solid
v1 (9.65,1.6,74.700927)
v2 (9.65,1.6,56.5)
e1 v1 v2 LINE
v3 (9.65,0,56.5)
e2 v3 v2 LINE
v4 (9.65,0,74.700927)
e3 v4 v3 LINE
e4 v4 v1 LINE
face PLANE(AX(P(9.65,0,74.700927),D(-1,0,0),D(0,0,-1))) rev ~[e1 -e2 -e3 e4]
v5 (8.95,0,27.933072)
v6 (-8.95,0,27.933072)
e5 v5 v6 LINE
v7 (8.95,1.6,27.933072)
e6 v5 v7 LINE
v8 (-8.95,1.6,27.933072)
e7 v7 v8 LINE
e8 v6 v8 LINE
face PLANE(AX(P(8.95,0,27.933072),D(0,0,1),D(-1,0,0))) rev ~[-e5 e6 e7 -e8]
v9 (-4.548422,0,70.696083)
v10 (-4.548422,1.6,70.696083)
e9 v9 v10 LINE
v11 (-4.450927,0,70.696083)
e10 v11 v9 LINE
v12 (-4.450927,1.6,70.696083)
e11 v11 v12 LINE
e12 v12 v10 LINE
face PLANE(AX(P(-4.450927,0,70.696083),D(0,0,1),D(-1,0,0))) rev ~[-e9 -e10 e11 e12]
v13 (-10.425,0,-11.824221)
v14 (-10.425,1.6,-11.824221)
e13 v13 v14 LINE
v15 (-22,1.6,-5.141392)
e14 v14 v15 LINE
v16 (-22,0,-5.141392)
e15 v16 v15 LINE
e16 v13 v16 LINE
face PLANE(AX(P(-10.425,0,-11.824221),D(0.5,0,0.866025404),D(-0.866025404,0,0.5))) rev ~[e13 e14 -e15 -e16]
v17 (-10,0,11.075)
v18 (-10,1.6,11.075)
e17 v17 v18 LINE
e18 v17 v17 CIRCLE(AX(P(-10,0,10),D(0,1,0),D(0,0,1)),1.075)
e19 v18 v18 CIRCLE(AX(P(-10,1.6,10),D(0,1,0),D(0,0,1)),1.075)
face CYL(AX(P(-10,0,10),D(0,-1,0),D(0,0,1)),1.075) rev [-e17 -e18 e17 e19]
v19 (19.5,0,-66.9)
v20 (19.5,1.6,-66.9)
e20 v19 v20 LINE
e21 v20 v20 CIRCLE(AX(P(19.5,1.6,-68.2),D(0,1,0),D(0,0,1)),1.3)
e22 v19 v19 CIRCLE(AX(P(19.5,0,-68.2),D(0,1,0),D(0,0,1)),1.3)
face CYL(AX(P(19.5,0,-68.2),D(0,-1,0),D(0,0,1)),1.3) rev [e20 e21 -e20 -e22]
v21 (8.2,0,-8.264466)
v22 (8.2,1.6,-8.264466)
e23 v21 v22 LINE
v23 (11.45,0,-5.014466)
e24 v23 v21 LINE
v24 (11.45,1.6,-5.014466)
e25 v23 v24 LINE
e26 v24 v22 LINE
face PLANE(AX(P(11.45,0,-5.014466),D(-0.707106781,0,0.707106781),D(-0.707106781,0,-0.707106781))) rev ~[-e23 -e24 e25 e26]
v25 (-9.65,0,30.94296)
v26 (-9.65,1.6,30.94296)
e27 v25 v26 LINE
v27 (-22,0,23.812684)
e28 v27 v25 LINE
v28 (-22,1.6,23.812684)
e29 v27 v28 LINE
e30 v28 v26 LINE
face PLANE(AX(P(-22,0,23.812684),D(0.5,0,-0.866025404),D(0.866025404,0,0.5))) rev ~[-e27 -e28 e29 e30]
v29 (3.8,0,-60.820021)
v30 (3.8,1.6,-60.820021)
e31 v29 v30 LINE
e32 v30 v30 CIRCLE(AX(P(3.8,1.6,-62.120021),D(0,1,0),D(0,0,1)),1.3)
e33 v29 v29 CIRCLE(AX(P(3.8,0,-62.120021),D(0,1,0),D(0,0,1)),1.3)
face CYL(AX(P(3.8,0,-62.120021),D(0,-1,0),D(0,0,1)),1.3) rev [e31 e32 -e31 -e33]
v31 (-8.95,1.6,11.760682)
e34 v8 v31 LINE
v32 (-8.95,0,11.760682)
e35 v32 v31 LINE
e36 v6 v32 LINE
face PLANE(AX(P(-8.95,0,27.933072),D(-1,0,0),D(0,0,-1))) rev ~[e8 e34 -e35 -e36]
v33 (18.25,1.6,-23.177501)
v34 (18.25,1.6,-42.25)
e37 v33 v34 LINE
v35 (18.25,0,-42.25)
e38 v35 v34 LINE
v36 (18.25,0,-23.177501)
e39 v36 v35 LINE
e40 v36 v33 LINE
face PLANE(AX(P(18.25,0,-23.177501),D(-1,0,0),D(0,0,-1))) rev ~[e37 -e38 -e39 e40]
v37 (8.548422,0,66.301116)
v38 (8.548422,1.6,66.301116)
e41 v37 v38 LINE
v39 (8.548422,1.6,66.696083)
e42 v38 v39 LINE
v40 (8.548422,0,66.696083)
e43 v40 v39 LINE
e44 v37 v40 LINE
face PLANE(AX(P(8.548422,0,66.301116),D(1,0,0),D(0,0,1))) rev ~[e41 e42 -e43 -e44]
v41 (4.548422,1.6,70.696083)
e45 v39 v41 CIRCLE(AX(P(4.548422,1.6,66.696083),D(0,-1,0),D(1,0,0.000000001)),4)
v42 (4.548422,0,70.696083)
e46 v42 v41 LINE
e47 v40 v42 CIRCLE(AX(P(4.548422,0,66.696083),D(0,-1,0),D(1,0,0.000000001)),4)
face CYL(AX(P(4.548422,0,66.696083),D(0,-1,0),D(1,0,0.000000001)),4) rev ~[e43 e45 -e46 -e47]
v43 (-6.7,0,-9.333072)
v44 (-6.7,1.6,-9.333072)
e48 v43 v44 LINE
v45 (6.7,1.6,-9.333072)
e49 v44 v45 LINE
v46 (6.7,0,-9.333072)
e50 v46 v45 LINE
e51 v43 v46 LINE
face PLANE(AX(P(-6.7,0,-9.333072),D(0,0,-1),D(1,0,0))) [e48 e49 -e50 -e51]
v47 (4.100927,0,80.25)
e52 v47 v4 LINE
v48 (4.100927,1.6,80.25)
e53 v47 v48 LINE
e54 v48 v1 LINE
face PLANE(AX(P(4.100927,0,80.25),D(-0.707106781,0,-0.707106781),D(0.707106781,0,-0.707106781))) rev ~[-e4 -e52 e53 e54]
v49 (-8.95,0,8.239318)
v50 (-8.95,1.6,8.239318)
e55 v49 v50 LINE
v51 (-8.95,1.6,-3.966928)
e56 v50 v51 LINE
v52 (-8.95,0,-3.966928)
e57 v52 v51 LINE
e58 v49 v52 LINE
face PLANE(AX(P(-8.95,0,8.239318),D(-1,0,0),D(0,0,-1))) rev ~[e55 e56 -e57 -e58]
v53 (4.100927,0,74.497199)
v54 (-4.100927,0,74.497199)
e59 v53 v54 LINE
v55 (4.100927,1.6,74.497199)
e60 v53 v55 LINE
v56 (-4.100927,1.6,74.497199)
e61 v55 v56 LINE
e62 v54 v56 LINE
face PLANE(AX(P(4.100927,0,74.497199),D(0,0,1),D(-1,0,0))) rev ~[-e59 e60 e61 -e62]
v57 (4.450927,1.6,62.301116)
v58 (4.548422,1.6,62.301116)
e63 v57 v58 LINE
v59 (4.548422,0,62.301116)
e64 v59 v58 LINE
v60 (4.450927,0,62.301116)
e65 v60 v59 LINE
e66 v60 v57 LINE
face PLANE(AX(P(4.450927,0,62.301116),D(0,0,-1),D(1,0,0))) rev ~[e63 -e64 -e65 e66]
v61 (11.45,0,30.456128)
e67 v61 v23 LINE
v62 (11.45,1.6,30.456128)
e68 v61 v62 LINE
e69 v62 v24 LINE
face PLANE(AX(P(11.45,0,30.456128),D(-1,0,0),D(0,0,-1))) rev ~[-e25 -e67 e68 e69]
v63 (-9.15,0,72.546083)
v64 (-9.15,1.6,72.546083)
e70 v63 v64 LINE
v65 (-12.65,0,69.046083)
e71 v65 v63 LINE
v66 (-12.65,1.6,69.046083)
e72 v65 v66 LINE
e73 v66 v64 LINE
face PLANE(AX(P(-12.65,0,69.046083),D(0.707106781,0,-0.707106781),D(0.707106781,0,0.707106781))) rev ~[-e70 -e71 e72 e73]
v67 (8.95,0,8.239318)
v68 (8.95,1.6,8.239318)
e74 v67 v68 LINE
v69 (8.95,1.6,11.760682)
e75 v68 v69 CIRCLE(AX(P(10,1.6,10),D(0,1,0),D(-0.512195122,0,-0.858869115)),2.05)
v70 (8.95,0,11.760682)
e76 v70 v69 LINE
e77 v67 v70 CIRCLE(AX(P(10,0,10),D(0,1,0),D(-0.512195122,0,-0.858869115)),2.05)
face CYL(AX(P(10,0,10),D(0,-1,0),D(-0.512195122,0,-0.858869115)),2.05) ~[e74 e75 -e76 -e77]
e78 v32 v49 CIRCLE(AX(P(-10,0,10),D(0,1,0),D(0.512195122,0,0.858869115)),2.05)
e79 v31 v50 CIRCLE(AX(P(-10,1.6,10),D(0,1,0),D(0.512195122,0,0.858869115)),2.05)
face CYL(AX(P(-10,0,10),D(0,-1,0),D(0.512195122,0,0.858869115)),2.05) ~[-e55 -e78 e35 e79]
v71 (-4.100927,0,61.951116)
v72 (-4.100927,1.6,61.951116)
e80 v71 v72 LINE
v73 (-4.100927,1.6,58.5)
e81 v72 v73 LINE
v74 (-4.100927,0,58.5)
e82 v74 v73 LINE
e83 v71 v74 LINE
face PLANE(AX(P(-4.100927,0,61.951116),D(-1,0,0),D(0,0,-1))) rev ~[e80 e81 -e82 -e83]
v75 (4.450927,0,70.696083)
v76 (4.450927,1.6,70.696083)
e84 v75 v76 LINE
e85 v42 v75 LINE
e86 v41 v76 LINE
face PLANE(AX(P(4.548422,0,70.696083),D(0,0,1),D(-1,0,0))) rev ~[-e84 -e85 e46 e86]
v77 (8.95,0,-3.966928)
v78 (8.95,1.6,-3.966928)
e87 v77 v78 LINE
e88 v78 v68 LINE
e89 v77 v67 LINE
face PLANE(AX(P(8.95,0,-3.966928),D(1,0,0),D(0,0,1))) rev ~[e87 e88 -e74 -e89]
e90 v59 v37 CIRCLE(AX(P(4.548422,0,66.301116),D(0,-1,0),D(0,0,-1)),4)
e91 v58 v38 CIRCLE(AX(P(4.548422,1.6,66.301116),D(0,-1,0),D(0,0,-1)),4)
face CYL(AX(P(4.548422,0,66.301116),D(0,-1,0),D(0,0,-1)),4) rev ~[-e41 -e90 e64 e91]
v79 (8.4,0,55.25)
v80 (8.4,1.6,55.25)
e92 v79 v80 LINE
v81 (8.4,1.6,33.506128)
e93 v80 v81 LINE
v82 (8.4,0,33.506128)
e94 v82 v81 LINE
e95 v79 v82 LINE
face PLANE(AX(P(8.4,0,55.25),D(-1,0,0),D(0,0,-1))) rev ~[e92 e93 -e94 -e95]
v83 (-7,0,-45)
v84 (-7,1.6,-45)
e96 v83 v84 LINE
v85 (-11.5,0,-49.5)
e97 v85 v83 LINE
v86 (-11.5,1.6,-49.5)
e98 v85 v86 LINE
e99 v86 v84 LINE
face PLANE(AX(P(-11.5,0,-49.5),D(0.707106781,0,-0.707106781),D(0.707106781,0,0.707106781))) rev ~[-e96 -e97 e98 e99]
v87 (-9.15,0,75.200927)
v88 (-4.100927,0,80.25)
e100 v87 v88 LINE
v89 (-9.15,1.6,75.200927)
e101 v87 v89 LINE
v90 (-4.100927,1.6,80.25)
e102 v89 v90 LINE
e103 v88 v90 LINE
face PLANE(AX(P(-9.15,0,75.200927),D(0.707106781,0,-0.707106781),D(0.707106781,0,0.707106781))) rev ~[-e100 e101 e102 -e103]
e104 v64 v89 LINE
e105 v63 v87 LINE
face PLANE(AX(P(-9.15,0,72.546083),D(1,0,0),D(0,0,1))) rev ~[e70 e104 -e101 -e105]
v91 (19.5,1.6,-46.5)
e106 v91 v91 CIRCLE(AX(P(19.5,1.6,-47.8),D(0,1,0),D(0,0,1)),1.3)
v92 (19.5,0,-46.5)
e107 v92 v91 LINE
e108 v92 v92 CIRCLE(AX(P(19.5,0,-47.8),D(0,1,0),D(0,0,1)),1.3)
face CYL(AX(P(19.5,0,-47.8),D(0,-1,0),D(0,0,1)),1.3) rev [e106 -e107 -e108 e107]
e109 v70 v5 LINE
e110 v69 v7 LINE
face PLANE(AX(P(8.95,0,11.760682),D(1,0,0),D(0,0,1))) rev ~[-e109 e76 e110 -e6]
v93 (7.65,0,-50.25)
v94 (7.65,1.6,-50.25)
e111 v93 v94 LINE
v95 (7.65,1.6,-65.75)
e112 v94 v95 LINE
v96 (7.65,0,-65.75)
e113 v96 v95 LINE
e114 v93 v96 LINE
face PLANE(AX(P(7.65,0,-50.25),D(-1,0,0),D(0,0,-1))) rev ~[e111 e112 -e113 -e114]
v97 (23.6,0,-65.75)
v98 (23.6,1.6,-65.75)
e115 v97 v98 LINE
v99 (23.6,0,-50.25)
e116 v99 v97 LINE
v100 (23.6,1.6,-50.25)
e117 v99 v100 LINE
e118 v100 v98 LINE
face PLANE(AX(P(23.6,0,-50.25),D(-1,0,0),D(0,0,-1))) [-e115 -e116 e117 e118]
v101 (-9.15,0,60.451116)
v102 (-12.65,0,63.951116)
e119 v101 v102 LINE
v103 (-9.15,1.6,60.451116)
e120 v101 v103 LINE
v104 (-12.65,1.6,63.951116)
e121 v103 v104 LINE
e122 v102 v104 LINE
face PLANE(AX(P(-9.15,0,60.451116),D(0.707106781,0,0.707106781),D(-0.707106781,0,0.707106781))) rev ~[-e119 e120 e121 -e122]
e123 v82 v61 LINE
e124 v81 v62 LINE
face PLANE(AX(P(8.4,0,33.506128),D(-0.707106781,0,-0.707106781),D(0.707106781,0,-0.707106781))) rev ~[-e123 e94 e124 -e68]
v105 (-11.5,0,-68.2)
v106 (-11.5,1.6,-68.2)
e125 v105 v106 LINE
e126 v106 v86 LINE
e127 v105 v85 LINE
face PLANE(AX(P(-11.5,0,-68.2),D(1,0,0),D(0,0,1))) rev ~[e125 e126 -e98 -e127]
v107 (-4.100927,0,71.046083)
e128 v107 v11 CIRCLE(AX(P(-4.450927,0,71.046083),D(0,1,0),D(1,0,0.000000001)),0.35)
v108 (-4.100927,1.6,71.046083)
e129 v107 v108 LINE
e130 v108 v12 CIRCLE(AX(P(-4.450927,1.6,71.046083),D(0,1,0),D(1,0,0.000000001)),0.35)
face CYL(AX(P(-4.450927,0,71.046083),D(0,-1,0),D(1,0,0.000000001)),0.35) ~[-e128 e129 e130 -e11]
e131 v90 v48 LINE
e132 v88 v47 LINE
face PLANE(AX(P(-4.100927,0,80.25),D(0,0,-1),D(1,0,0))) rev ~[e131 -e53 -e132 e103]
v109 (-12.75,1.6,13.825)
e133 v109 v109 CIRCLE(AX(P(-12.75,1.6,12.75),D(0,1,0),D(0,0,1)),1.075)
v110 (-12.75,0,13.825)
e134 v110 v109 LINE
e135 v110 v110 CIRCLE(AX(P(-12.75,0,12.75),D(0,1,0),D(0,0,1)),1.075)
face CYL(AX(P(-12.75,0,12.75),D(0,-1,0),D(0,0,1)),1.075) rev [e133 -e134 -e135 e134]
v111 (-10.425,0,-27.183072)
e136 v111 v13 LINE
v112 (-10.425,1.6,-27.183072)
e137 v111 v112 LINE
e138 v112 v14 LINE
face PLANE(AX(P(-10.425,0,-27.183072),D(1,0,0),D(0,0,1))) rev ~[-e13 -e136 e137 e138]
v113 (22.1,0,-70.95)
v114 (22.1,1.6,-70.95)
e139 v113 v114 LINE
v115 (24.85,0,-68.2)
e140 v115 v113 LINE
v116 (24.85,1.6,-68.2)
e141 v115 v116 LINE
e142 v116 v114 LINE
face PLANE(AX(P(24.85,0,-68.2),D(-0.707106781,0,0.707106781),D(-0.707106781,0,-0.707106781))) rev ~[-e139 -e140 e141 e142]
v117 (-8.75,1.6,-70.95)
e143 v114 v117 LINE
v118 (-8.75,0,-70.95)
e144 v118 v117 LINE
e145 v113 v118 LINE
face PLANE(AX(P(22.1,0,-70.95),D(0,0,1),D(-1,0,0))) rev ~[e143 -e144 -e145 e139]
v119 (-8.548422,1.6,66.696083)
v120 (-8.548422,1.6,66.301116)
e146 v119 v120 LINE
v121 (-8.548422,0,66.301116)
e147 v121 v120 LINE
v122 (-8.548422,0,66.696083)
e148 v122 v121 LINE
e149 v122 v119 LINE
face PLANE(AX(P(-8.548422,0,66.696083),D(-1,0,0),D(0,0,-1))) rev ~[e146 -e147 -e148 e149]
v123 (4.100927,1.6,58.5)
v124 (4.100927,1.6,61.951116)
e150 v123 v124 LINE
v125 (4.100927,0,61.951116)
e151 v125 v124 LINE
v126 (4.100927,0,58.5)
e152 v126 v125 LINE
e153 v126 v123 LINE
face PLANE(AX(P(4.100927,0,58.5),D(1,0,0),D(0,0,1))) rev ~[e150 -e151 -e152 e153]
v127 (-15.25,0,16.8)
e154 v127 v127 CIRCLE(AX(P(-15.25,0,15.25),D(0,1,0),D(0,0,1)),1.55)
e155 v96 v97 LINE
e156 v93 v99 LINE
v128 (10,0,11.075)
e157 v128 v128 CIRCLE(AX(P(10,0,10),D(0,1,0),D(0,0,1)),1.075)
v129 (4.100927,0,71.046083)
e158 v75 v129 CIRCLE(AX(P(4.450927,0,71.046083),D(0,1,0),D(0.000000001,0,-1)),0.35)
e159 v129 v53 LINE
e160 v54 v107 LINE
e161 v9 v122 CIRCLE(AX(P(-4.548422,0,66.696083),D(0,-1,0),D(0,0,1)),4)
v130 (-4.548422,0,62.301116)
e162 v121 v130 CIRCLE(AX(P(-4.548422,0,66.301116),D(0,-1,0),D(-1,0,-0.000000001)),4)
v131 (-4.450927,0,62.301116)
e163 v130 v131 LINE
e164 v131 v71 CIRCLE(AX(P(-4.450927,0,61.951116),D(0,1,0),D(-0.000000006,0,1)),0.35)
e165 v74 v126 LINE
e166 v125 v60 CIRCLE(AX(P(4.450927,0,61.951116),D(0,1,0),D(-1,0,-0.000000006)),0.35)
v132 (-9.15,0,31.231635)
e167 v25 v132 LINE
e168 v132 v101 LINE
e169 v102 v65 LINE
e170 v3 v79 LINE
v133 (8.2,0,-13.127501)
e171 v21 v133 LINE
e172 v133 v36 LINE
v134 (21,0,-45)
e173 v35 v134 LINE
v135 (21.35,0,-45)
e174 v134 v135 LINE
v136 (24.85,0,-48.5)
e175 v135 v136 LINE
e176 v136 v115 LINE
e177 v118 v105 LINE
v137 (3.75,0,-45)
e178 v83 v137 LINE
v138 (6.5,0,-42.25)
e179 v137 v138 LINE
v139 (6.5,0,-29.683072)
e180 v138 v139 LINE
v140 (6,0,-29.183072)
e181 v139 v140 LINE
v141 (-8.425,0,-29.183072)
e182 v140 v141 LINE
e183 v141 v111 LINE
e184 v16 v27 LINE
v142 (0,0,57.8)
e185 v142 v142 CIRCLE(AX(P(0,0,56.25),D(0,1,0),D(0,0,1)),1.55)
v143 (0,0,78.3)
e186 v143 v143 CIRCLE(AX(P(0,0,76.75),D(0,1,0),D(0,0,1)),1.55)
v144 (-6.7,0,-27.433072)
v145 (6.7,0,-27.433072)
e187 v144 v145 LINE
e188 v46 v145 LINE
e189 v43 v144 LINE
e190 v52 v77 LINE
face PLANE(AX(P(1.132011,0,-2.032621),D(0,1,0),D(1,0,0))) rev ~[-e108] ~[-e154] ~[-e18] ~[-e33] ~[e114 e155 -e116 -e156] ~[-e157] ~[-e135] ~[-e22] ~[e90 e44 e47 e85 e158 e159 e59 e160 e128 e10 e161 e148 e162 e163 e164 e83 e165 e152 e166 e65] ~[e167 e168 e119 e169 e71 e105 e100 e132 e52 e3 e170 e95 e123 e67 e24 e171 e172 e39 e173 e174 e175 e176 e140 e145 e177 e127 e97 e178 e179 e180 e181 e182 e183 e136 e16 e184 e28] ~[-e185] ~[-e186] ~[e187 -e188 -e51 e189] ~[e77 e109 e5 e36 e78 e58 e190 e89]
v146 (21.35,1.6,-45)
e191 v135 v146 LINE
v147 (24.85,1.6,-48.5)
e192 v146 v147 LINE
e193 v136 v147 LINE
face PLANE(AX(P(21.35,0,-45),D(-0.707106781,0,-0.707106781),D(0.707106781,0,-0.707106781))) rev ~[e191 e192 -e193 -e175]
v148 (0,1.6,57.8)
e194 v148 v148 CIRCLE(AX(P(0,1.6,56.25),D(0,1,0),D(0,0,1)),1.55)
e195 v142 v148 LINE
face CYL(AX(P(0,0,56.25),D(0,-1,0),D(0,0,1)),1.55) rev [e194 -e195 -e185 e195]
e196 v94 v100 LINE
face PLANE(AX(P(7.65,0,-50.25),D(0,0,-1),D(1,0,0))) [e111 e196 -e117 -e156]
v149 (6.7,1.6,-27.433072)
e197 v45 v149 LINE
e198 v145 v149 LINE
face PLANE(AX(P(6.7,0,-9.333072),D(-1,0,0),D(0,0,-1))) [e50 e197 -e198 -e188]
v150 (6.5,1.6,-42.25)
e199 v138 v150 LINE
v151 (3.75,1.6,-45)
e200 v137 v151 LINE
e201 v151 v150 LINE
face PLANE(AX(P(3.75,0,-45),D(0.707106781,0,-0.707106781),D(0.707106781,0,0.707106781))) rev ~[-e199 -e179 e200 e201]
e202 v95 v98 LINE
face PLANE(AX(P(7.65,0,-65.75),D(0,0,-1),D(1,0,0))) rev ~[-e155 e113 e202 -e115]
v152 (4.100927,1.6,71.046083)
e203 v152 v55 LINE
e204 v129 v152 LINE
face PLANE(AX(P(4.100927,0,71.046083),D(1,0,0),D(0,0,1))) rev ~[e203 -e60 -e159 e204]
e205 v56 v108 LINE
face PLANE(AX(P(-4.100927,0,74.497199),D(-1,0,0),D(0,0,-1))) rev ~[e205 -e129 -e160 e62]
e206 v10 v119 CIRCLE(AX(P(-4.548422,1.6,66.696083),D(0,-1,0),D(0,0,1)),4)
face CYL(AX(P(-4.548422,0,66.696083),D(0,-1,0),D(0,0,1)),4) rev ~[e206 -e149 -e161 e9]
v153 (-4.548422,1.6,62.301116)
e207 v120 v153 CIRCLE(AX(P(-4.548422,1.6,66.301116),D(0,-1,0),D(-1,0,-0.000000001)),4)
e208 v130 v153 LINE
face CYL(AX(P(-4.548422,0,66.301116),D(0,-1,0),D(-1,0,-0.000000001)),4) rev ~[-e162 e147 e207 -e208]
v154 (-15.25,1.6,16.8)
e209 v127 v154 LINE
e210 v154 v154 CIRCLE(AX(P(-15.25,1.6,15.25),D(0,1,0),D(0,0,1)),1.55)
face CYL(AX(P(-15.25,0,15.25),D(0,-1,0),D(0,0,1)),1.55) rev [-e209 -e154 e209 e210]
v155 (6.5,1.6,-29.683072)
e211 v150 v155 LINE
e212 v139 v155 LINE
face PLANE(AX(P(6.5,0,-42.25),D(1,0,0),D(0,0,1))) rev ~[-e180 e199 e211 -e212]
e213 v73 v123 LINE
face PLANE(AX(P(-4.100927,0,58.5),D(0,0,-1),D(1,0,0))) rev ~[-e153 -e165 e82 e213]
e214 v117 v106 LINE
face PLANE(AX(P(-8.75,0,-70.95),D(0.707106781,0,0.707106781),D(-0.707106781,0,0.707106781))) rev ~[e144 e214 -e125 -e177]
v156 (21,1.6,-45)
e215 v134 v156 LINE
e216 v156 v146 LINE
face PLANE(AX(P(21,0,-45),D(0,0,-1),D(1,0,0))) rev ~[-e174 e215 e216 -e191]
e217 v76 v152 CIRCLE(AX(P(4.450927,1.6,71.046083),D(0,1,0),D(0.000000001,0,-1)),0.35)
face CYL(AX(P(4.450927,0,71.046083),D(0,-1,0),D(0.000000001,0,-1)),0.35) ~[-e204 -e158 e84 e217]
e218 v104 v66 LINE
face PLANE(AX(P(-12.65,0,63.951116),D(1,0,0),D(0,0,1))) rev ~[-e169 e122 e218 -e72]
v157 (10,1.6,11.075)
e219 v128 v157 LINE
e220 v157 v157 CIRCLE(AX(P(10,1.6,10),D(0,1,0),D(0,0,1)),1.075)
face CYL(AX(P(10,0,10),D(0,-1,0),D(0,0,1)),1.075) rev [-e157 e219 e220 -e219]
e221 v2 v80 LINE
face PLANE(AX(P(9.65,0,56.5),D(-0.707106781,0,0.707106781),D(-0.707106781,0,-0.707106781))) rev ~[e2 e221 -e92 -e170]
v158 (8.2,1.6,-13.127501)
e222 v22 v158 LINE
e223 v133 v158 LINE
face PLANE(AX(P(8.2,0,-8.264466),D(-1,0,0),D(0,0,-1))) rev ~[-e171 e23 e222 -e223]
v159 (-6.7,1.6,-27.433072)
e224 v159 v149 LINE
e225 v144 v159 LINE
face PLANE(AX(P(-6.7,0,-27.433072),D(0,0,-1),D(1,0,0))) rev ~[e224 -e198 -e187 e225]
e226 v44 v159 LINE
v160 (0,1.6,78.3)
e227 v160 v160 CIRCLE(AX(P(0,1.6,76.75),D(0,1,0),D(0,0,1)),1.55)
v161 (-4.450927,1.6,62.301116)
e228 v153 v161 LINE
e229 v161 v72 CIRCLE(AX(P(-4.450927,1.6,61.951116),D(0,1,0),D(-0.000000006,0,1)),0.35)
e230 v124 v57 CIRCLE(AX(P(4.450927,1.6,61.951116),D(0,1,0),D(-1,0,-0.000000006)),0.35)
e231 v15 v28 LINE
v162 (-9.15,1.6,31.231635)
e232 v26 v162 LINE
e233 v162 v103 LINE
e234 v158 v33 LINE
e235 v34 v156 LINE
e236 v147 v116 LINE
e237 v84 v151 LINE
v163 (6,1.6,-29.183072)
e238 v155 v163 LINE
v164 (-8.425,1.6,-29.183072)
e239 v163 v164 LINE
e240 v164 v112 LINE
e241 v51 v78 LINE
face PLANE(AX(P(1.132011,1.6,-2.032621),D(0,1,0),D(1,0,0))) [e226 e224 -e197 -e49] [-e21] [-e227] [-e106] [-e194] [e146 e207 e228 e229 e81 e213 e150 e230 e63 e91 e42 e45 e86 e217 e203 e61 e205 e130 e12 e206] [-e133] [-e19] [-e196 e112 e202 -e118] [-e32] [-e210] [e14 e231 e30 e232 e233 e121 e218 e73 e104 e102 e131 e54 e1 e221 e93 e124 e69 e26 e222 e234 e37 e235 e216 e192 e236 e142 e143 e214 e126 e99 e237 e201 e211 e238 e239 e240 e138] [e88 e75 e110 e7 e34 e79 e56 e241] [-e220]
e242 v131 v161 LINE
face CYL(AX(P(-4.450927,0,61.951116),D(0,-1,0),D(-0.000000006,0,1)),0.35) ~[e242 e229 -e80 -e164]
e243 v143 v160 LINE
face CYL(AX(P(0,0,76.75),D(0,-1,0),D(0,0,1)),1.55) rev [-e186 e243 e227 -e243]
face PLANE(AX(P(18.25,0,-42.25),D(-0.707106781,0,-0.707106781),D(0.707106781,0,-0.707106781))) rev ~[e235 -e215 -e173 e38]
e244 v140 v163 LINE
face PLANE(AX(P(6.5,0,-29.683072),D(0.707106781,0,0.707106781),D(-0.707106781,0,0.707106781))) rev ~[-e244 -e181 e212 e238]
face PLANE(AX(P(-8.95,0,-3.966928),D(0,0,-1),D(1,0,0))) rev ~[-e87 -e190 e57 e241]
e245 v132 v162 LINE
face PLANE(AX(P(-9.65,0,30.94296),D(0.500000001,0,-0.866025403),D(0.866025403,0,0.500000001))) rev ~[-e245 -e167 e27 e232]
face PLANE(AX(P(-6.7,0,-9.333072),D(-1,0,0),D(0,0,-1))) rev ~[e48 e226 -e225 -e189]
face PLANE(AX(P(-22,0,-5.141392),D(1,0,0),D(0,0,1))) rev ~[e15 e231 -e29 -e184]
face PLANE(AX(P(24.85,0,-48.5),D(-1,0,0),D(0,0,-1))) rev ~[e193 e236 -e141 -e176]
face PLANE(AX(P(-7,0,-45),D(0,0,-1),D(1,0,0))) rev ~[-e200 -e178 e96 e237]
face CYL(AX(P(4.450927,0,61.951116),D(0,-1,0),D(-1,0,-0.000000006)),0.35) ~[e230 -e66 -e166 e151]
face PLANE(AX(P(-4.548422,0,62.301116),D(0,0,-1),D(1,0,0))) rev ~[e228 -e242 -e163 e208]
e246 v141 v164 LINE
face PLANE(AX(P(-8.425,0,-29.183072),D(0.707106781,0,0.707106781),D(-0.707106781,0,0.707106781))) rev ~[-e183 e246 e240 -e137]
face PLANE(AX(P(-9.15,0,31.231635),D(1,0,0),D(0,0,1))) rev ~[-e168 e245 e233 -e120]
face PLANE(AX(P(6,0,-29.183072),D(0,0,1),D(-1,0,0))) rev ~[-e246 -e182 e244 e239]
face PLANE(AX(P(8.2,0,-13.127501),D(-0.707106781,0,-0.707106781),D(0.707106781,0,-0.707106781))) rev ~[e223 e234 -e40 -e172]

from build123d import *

# Parameters (mm, degrees)
SKETCH_9688_R   = 1.55
SKETCH_9688_R_2 = 1.075
SKETCH_9688_W   = 13.4
SKETCH_9688_H   = 18.1
SKETCH_9688_R_3 = 1.3
SKETCH_9688_W_2 = 15.95
SKETCH_9688_H_2 = 15.5
PCB_DEPTH       = 1.6


with BuildPart() as part:
    # Sketch 9688 → 主结构-PCB最大范围-实际可以比这个小 (new body)
    with BuildSketch(Plane(origin=(0, 0, 0), x_dir=(1, 0, 0), z_dir=(0, 1, 0))):
        Polygon((3.75, 45), (6.5, 42.25), (6.5, 29.683072379), (6, 29.183072379), (-8.425, 29.183072379), (-10.425, 27.183072379), (-10.425, 11.824221247), (-22, 5.141391882), (-22, -23.812684418), (-9.65, -30.942960242), (-9.15, -31.231635377), (-9.15, -34.122764912), (-9.15, -60.451116293), (-12.65, -63.951116293), (-12.65, -69.046082783), (-9.15, -72.546082783), (-9.15, -75.200927376), (-4.100927376, -80.25), (4.100927376, -80.25), (9.65, -74.700927376), (9.65, -56.5), (8.4, -55.25), (8.4, -33.506128091), (11.45, -30.456128091), (11.45, 5.014466094), (8.2, 8.264466094), (8.2, 13.127500889), (18.25, 23.177500889), (18.25, 30.170693918), (18.25, 42.25), (21, 45), (21.35, 45), (24.85, 48.5), (24.85, 68.199999999), (22.1, 70.949999999), (-8.75, 70.949999999), (-11.5, 68.199999999), (-11.5, 49.5), (-7, 45), align=None)
        with Locations(Location((0, -76.75, 0), (0, 0, 270))):
            Circle(SKETCH_9688_R, mode=Mode.SUBTRACT)
        with BuildLine():
            Line((-4.100927376, -61.951116293), (-4.100927376, -58.5))
            Line((-4.100927376, -58.5), (-0.000927376, -58.5))
            Line((-0.000927376, -58.5), (0.000927376, -58.5))
            Line((0.000927376, -58.5), (4.100927376, -58.5))
            Line((4.100927376, -58.5), (4.100927376, -61.951116293))
            ThreePointArc((4.100927376, -61.951116293), (4.203440002, -62.198603667), (4.450927376, -62.301116293))
            Line((4.450927376, -62.301116293), (4.54842161, -62.301116293))
            ThreePointArc((4.54842161, -62.301116293), (7.376848734, -63.472689168), (8.54842161, -66.301116291))
            Line((8.54842161, -66.301116291), (8.54842161, -66.696082786))
            ThreePointArc((8.54842161, -66.696082786), (7.376848734, -69.524509909), (4.54842161, -70.696082783))
            Line((4.54842161, -70.696082783), (4.450927376, -70.696082783))
            ThreePointArc((4.450927376, -70.696082783), (4.203440002, -70.79859541), (4.100927376, -71.046082783))
            Line((4.100927376, -71.046082783), (4.100927376, -74.497199077))
            Line((4.100927376, -74.497199077), (0.000927376, -74.497199077))
            Line((0.000927376, -74.497199077), (-0.000927376, -74.497199077))
            Line((-0.000927376, -74.497199077), (-4.100927376, -74.497199077))
            Line((-4.100927376, -74.497199077), (-4.100927376, -71.046082783))
            ThreePointArc((-4.100927376, -71.046082783), (-4.203440002, -70.79859541), (-4.450927376, -70.696082783))
            Line((-4.450927376, -70.696082783), (-4.54842161, -70.696082783))
            ThreePointArc((-4.54842161, -70.696082783), (-7.376848734, -69.524509909), (-8.54842161, -66.696082786))
            Line((-8.54842161, -66.696082786), (-8.54842161, -66.301116291))
            ThreePointArc((-8.54842161, -66.301116291), (-7.376848734, -63.472689168), (-4.54842161, -62.301116293))
            Line((-4.54842161, -62.301116293), (-4.450927376, -62.301116293))
            ThreePointArc((-4.450927376, -62.301116293), (-4.203440002, -62.198603667), (-4.100927376, -61.951116293))
        make_face(mode=Mode.SUBTRACT)
        with Locations(Location((0, -56.25, 0), (0, 0, 270))):
            Circle(SKETCH_9688_R, mode=Mode.SUBTRACT)
        with Locations(Location((-15.25, -15.25, 0), (0, 0, 270))):
            Circle(SKETCH_9688_R, mode=Mode.SUBTRACT)
        with Locations(Location((-12.75, -12.75, 0), (0, 0, 270))):
            Circle(SKETCH_9688_R_2, mode=Mode.SUBTRACT)
        with Locations(Location((-10, -10, 0), (0, 0, 270))):
            Circle(SKETCH_9688_R_2, mode=Mode.SUBTRACT)
        with BuildLine():
            Line((-8.95, -8.239318314), (-8.95, 3.966927621))
            Line((-8.95, 3.966927621), (8.95, 3.966927621))
            Line((8.95, 3.966927621), (8.95, -8.239318314))
            ThreePointArc((8.95, -8.239318314), (7.95, -10), (8.95, -11.760681686))
            Line((8.95, -11.760681686), (8.95, -27.933072379))
            Line((8.95, -27.933072379), (-8.95, -27.933072379))
            Line((-8.95, -27.933072379), (-8.95, -11.760681686))
            ThreePointArc((-8.95, -11.760681686), (-7.95, -10), (-8.95, -8.239318314))
        make_face(mode=Mode.SUBTRACT)
        with Locations(Location((10, -10, 0), (0, 0, 270))):
            Circle(SKETCH_9688_R_2, mode=Mode.SUBTRACT)
        with Locations((0, 18.383072379)):
            Rectangle(SKETCH_9688_W, SKETCH_9688_H, mode=Mode.SUBTRACT)
        with Locations(Location((3.8, 62.12002051, 0), (0, 0, 270))):
            Circle(SKETCH_9688_R_3, mode=Mode.SUBTRACT)
        with Locations(Location((19.5, 47.800000001, 0), (0, 0, 270))):
            Circle(SKETCH_9688_R_3, mode=Mode.SUBTRACT)
        with Locations((15.625, 58)):
            Rectangle(SKETCH_9688_W_2, SKETCH_9688_H_2, mode=Mode.SUBTRACT)
        with Locations(Location((19.5, 68.199999999, 0), (0, 0, 270))):
            Circle(SKETCH_9688_R_3, mode=Mode.SUBTRACT)
    extrude(amount=PCB_DEPTH)


solid = part.part
